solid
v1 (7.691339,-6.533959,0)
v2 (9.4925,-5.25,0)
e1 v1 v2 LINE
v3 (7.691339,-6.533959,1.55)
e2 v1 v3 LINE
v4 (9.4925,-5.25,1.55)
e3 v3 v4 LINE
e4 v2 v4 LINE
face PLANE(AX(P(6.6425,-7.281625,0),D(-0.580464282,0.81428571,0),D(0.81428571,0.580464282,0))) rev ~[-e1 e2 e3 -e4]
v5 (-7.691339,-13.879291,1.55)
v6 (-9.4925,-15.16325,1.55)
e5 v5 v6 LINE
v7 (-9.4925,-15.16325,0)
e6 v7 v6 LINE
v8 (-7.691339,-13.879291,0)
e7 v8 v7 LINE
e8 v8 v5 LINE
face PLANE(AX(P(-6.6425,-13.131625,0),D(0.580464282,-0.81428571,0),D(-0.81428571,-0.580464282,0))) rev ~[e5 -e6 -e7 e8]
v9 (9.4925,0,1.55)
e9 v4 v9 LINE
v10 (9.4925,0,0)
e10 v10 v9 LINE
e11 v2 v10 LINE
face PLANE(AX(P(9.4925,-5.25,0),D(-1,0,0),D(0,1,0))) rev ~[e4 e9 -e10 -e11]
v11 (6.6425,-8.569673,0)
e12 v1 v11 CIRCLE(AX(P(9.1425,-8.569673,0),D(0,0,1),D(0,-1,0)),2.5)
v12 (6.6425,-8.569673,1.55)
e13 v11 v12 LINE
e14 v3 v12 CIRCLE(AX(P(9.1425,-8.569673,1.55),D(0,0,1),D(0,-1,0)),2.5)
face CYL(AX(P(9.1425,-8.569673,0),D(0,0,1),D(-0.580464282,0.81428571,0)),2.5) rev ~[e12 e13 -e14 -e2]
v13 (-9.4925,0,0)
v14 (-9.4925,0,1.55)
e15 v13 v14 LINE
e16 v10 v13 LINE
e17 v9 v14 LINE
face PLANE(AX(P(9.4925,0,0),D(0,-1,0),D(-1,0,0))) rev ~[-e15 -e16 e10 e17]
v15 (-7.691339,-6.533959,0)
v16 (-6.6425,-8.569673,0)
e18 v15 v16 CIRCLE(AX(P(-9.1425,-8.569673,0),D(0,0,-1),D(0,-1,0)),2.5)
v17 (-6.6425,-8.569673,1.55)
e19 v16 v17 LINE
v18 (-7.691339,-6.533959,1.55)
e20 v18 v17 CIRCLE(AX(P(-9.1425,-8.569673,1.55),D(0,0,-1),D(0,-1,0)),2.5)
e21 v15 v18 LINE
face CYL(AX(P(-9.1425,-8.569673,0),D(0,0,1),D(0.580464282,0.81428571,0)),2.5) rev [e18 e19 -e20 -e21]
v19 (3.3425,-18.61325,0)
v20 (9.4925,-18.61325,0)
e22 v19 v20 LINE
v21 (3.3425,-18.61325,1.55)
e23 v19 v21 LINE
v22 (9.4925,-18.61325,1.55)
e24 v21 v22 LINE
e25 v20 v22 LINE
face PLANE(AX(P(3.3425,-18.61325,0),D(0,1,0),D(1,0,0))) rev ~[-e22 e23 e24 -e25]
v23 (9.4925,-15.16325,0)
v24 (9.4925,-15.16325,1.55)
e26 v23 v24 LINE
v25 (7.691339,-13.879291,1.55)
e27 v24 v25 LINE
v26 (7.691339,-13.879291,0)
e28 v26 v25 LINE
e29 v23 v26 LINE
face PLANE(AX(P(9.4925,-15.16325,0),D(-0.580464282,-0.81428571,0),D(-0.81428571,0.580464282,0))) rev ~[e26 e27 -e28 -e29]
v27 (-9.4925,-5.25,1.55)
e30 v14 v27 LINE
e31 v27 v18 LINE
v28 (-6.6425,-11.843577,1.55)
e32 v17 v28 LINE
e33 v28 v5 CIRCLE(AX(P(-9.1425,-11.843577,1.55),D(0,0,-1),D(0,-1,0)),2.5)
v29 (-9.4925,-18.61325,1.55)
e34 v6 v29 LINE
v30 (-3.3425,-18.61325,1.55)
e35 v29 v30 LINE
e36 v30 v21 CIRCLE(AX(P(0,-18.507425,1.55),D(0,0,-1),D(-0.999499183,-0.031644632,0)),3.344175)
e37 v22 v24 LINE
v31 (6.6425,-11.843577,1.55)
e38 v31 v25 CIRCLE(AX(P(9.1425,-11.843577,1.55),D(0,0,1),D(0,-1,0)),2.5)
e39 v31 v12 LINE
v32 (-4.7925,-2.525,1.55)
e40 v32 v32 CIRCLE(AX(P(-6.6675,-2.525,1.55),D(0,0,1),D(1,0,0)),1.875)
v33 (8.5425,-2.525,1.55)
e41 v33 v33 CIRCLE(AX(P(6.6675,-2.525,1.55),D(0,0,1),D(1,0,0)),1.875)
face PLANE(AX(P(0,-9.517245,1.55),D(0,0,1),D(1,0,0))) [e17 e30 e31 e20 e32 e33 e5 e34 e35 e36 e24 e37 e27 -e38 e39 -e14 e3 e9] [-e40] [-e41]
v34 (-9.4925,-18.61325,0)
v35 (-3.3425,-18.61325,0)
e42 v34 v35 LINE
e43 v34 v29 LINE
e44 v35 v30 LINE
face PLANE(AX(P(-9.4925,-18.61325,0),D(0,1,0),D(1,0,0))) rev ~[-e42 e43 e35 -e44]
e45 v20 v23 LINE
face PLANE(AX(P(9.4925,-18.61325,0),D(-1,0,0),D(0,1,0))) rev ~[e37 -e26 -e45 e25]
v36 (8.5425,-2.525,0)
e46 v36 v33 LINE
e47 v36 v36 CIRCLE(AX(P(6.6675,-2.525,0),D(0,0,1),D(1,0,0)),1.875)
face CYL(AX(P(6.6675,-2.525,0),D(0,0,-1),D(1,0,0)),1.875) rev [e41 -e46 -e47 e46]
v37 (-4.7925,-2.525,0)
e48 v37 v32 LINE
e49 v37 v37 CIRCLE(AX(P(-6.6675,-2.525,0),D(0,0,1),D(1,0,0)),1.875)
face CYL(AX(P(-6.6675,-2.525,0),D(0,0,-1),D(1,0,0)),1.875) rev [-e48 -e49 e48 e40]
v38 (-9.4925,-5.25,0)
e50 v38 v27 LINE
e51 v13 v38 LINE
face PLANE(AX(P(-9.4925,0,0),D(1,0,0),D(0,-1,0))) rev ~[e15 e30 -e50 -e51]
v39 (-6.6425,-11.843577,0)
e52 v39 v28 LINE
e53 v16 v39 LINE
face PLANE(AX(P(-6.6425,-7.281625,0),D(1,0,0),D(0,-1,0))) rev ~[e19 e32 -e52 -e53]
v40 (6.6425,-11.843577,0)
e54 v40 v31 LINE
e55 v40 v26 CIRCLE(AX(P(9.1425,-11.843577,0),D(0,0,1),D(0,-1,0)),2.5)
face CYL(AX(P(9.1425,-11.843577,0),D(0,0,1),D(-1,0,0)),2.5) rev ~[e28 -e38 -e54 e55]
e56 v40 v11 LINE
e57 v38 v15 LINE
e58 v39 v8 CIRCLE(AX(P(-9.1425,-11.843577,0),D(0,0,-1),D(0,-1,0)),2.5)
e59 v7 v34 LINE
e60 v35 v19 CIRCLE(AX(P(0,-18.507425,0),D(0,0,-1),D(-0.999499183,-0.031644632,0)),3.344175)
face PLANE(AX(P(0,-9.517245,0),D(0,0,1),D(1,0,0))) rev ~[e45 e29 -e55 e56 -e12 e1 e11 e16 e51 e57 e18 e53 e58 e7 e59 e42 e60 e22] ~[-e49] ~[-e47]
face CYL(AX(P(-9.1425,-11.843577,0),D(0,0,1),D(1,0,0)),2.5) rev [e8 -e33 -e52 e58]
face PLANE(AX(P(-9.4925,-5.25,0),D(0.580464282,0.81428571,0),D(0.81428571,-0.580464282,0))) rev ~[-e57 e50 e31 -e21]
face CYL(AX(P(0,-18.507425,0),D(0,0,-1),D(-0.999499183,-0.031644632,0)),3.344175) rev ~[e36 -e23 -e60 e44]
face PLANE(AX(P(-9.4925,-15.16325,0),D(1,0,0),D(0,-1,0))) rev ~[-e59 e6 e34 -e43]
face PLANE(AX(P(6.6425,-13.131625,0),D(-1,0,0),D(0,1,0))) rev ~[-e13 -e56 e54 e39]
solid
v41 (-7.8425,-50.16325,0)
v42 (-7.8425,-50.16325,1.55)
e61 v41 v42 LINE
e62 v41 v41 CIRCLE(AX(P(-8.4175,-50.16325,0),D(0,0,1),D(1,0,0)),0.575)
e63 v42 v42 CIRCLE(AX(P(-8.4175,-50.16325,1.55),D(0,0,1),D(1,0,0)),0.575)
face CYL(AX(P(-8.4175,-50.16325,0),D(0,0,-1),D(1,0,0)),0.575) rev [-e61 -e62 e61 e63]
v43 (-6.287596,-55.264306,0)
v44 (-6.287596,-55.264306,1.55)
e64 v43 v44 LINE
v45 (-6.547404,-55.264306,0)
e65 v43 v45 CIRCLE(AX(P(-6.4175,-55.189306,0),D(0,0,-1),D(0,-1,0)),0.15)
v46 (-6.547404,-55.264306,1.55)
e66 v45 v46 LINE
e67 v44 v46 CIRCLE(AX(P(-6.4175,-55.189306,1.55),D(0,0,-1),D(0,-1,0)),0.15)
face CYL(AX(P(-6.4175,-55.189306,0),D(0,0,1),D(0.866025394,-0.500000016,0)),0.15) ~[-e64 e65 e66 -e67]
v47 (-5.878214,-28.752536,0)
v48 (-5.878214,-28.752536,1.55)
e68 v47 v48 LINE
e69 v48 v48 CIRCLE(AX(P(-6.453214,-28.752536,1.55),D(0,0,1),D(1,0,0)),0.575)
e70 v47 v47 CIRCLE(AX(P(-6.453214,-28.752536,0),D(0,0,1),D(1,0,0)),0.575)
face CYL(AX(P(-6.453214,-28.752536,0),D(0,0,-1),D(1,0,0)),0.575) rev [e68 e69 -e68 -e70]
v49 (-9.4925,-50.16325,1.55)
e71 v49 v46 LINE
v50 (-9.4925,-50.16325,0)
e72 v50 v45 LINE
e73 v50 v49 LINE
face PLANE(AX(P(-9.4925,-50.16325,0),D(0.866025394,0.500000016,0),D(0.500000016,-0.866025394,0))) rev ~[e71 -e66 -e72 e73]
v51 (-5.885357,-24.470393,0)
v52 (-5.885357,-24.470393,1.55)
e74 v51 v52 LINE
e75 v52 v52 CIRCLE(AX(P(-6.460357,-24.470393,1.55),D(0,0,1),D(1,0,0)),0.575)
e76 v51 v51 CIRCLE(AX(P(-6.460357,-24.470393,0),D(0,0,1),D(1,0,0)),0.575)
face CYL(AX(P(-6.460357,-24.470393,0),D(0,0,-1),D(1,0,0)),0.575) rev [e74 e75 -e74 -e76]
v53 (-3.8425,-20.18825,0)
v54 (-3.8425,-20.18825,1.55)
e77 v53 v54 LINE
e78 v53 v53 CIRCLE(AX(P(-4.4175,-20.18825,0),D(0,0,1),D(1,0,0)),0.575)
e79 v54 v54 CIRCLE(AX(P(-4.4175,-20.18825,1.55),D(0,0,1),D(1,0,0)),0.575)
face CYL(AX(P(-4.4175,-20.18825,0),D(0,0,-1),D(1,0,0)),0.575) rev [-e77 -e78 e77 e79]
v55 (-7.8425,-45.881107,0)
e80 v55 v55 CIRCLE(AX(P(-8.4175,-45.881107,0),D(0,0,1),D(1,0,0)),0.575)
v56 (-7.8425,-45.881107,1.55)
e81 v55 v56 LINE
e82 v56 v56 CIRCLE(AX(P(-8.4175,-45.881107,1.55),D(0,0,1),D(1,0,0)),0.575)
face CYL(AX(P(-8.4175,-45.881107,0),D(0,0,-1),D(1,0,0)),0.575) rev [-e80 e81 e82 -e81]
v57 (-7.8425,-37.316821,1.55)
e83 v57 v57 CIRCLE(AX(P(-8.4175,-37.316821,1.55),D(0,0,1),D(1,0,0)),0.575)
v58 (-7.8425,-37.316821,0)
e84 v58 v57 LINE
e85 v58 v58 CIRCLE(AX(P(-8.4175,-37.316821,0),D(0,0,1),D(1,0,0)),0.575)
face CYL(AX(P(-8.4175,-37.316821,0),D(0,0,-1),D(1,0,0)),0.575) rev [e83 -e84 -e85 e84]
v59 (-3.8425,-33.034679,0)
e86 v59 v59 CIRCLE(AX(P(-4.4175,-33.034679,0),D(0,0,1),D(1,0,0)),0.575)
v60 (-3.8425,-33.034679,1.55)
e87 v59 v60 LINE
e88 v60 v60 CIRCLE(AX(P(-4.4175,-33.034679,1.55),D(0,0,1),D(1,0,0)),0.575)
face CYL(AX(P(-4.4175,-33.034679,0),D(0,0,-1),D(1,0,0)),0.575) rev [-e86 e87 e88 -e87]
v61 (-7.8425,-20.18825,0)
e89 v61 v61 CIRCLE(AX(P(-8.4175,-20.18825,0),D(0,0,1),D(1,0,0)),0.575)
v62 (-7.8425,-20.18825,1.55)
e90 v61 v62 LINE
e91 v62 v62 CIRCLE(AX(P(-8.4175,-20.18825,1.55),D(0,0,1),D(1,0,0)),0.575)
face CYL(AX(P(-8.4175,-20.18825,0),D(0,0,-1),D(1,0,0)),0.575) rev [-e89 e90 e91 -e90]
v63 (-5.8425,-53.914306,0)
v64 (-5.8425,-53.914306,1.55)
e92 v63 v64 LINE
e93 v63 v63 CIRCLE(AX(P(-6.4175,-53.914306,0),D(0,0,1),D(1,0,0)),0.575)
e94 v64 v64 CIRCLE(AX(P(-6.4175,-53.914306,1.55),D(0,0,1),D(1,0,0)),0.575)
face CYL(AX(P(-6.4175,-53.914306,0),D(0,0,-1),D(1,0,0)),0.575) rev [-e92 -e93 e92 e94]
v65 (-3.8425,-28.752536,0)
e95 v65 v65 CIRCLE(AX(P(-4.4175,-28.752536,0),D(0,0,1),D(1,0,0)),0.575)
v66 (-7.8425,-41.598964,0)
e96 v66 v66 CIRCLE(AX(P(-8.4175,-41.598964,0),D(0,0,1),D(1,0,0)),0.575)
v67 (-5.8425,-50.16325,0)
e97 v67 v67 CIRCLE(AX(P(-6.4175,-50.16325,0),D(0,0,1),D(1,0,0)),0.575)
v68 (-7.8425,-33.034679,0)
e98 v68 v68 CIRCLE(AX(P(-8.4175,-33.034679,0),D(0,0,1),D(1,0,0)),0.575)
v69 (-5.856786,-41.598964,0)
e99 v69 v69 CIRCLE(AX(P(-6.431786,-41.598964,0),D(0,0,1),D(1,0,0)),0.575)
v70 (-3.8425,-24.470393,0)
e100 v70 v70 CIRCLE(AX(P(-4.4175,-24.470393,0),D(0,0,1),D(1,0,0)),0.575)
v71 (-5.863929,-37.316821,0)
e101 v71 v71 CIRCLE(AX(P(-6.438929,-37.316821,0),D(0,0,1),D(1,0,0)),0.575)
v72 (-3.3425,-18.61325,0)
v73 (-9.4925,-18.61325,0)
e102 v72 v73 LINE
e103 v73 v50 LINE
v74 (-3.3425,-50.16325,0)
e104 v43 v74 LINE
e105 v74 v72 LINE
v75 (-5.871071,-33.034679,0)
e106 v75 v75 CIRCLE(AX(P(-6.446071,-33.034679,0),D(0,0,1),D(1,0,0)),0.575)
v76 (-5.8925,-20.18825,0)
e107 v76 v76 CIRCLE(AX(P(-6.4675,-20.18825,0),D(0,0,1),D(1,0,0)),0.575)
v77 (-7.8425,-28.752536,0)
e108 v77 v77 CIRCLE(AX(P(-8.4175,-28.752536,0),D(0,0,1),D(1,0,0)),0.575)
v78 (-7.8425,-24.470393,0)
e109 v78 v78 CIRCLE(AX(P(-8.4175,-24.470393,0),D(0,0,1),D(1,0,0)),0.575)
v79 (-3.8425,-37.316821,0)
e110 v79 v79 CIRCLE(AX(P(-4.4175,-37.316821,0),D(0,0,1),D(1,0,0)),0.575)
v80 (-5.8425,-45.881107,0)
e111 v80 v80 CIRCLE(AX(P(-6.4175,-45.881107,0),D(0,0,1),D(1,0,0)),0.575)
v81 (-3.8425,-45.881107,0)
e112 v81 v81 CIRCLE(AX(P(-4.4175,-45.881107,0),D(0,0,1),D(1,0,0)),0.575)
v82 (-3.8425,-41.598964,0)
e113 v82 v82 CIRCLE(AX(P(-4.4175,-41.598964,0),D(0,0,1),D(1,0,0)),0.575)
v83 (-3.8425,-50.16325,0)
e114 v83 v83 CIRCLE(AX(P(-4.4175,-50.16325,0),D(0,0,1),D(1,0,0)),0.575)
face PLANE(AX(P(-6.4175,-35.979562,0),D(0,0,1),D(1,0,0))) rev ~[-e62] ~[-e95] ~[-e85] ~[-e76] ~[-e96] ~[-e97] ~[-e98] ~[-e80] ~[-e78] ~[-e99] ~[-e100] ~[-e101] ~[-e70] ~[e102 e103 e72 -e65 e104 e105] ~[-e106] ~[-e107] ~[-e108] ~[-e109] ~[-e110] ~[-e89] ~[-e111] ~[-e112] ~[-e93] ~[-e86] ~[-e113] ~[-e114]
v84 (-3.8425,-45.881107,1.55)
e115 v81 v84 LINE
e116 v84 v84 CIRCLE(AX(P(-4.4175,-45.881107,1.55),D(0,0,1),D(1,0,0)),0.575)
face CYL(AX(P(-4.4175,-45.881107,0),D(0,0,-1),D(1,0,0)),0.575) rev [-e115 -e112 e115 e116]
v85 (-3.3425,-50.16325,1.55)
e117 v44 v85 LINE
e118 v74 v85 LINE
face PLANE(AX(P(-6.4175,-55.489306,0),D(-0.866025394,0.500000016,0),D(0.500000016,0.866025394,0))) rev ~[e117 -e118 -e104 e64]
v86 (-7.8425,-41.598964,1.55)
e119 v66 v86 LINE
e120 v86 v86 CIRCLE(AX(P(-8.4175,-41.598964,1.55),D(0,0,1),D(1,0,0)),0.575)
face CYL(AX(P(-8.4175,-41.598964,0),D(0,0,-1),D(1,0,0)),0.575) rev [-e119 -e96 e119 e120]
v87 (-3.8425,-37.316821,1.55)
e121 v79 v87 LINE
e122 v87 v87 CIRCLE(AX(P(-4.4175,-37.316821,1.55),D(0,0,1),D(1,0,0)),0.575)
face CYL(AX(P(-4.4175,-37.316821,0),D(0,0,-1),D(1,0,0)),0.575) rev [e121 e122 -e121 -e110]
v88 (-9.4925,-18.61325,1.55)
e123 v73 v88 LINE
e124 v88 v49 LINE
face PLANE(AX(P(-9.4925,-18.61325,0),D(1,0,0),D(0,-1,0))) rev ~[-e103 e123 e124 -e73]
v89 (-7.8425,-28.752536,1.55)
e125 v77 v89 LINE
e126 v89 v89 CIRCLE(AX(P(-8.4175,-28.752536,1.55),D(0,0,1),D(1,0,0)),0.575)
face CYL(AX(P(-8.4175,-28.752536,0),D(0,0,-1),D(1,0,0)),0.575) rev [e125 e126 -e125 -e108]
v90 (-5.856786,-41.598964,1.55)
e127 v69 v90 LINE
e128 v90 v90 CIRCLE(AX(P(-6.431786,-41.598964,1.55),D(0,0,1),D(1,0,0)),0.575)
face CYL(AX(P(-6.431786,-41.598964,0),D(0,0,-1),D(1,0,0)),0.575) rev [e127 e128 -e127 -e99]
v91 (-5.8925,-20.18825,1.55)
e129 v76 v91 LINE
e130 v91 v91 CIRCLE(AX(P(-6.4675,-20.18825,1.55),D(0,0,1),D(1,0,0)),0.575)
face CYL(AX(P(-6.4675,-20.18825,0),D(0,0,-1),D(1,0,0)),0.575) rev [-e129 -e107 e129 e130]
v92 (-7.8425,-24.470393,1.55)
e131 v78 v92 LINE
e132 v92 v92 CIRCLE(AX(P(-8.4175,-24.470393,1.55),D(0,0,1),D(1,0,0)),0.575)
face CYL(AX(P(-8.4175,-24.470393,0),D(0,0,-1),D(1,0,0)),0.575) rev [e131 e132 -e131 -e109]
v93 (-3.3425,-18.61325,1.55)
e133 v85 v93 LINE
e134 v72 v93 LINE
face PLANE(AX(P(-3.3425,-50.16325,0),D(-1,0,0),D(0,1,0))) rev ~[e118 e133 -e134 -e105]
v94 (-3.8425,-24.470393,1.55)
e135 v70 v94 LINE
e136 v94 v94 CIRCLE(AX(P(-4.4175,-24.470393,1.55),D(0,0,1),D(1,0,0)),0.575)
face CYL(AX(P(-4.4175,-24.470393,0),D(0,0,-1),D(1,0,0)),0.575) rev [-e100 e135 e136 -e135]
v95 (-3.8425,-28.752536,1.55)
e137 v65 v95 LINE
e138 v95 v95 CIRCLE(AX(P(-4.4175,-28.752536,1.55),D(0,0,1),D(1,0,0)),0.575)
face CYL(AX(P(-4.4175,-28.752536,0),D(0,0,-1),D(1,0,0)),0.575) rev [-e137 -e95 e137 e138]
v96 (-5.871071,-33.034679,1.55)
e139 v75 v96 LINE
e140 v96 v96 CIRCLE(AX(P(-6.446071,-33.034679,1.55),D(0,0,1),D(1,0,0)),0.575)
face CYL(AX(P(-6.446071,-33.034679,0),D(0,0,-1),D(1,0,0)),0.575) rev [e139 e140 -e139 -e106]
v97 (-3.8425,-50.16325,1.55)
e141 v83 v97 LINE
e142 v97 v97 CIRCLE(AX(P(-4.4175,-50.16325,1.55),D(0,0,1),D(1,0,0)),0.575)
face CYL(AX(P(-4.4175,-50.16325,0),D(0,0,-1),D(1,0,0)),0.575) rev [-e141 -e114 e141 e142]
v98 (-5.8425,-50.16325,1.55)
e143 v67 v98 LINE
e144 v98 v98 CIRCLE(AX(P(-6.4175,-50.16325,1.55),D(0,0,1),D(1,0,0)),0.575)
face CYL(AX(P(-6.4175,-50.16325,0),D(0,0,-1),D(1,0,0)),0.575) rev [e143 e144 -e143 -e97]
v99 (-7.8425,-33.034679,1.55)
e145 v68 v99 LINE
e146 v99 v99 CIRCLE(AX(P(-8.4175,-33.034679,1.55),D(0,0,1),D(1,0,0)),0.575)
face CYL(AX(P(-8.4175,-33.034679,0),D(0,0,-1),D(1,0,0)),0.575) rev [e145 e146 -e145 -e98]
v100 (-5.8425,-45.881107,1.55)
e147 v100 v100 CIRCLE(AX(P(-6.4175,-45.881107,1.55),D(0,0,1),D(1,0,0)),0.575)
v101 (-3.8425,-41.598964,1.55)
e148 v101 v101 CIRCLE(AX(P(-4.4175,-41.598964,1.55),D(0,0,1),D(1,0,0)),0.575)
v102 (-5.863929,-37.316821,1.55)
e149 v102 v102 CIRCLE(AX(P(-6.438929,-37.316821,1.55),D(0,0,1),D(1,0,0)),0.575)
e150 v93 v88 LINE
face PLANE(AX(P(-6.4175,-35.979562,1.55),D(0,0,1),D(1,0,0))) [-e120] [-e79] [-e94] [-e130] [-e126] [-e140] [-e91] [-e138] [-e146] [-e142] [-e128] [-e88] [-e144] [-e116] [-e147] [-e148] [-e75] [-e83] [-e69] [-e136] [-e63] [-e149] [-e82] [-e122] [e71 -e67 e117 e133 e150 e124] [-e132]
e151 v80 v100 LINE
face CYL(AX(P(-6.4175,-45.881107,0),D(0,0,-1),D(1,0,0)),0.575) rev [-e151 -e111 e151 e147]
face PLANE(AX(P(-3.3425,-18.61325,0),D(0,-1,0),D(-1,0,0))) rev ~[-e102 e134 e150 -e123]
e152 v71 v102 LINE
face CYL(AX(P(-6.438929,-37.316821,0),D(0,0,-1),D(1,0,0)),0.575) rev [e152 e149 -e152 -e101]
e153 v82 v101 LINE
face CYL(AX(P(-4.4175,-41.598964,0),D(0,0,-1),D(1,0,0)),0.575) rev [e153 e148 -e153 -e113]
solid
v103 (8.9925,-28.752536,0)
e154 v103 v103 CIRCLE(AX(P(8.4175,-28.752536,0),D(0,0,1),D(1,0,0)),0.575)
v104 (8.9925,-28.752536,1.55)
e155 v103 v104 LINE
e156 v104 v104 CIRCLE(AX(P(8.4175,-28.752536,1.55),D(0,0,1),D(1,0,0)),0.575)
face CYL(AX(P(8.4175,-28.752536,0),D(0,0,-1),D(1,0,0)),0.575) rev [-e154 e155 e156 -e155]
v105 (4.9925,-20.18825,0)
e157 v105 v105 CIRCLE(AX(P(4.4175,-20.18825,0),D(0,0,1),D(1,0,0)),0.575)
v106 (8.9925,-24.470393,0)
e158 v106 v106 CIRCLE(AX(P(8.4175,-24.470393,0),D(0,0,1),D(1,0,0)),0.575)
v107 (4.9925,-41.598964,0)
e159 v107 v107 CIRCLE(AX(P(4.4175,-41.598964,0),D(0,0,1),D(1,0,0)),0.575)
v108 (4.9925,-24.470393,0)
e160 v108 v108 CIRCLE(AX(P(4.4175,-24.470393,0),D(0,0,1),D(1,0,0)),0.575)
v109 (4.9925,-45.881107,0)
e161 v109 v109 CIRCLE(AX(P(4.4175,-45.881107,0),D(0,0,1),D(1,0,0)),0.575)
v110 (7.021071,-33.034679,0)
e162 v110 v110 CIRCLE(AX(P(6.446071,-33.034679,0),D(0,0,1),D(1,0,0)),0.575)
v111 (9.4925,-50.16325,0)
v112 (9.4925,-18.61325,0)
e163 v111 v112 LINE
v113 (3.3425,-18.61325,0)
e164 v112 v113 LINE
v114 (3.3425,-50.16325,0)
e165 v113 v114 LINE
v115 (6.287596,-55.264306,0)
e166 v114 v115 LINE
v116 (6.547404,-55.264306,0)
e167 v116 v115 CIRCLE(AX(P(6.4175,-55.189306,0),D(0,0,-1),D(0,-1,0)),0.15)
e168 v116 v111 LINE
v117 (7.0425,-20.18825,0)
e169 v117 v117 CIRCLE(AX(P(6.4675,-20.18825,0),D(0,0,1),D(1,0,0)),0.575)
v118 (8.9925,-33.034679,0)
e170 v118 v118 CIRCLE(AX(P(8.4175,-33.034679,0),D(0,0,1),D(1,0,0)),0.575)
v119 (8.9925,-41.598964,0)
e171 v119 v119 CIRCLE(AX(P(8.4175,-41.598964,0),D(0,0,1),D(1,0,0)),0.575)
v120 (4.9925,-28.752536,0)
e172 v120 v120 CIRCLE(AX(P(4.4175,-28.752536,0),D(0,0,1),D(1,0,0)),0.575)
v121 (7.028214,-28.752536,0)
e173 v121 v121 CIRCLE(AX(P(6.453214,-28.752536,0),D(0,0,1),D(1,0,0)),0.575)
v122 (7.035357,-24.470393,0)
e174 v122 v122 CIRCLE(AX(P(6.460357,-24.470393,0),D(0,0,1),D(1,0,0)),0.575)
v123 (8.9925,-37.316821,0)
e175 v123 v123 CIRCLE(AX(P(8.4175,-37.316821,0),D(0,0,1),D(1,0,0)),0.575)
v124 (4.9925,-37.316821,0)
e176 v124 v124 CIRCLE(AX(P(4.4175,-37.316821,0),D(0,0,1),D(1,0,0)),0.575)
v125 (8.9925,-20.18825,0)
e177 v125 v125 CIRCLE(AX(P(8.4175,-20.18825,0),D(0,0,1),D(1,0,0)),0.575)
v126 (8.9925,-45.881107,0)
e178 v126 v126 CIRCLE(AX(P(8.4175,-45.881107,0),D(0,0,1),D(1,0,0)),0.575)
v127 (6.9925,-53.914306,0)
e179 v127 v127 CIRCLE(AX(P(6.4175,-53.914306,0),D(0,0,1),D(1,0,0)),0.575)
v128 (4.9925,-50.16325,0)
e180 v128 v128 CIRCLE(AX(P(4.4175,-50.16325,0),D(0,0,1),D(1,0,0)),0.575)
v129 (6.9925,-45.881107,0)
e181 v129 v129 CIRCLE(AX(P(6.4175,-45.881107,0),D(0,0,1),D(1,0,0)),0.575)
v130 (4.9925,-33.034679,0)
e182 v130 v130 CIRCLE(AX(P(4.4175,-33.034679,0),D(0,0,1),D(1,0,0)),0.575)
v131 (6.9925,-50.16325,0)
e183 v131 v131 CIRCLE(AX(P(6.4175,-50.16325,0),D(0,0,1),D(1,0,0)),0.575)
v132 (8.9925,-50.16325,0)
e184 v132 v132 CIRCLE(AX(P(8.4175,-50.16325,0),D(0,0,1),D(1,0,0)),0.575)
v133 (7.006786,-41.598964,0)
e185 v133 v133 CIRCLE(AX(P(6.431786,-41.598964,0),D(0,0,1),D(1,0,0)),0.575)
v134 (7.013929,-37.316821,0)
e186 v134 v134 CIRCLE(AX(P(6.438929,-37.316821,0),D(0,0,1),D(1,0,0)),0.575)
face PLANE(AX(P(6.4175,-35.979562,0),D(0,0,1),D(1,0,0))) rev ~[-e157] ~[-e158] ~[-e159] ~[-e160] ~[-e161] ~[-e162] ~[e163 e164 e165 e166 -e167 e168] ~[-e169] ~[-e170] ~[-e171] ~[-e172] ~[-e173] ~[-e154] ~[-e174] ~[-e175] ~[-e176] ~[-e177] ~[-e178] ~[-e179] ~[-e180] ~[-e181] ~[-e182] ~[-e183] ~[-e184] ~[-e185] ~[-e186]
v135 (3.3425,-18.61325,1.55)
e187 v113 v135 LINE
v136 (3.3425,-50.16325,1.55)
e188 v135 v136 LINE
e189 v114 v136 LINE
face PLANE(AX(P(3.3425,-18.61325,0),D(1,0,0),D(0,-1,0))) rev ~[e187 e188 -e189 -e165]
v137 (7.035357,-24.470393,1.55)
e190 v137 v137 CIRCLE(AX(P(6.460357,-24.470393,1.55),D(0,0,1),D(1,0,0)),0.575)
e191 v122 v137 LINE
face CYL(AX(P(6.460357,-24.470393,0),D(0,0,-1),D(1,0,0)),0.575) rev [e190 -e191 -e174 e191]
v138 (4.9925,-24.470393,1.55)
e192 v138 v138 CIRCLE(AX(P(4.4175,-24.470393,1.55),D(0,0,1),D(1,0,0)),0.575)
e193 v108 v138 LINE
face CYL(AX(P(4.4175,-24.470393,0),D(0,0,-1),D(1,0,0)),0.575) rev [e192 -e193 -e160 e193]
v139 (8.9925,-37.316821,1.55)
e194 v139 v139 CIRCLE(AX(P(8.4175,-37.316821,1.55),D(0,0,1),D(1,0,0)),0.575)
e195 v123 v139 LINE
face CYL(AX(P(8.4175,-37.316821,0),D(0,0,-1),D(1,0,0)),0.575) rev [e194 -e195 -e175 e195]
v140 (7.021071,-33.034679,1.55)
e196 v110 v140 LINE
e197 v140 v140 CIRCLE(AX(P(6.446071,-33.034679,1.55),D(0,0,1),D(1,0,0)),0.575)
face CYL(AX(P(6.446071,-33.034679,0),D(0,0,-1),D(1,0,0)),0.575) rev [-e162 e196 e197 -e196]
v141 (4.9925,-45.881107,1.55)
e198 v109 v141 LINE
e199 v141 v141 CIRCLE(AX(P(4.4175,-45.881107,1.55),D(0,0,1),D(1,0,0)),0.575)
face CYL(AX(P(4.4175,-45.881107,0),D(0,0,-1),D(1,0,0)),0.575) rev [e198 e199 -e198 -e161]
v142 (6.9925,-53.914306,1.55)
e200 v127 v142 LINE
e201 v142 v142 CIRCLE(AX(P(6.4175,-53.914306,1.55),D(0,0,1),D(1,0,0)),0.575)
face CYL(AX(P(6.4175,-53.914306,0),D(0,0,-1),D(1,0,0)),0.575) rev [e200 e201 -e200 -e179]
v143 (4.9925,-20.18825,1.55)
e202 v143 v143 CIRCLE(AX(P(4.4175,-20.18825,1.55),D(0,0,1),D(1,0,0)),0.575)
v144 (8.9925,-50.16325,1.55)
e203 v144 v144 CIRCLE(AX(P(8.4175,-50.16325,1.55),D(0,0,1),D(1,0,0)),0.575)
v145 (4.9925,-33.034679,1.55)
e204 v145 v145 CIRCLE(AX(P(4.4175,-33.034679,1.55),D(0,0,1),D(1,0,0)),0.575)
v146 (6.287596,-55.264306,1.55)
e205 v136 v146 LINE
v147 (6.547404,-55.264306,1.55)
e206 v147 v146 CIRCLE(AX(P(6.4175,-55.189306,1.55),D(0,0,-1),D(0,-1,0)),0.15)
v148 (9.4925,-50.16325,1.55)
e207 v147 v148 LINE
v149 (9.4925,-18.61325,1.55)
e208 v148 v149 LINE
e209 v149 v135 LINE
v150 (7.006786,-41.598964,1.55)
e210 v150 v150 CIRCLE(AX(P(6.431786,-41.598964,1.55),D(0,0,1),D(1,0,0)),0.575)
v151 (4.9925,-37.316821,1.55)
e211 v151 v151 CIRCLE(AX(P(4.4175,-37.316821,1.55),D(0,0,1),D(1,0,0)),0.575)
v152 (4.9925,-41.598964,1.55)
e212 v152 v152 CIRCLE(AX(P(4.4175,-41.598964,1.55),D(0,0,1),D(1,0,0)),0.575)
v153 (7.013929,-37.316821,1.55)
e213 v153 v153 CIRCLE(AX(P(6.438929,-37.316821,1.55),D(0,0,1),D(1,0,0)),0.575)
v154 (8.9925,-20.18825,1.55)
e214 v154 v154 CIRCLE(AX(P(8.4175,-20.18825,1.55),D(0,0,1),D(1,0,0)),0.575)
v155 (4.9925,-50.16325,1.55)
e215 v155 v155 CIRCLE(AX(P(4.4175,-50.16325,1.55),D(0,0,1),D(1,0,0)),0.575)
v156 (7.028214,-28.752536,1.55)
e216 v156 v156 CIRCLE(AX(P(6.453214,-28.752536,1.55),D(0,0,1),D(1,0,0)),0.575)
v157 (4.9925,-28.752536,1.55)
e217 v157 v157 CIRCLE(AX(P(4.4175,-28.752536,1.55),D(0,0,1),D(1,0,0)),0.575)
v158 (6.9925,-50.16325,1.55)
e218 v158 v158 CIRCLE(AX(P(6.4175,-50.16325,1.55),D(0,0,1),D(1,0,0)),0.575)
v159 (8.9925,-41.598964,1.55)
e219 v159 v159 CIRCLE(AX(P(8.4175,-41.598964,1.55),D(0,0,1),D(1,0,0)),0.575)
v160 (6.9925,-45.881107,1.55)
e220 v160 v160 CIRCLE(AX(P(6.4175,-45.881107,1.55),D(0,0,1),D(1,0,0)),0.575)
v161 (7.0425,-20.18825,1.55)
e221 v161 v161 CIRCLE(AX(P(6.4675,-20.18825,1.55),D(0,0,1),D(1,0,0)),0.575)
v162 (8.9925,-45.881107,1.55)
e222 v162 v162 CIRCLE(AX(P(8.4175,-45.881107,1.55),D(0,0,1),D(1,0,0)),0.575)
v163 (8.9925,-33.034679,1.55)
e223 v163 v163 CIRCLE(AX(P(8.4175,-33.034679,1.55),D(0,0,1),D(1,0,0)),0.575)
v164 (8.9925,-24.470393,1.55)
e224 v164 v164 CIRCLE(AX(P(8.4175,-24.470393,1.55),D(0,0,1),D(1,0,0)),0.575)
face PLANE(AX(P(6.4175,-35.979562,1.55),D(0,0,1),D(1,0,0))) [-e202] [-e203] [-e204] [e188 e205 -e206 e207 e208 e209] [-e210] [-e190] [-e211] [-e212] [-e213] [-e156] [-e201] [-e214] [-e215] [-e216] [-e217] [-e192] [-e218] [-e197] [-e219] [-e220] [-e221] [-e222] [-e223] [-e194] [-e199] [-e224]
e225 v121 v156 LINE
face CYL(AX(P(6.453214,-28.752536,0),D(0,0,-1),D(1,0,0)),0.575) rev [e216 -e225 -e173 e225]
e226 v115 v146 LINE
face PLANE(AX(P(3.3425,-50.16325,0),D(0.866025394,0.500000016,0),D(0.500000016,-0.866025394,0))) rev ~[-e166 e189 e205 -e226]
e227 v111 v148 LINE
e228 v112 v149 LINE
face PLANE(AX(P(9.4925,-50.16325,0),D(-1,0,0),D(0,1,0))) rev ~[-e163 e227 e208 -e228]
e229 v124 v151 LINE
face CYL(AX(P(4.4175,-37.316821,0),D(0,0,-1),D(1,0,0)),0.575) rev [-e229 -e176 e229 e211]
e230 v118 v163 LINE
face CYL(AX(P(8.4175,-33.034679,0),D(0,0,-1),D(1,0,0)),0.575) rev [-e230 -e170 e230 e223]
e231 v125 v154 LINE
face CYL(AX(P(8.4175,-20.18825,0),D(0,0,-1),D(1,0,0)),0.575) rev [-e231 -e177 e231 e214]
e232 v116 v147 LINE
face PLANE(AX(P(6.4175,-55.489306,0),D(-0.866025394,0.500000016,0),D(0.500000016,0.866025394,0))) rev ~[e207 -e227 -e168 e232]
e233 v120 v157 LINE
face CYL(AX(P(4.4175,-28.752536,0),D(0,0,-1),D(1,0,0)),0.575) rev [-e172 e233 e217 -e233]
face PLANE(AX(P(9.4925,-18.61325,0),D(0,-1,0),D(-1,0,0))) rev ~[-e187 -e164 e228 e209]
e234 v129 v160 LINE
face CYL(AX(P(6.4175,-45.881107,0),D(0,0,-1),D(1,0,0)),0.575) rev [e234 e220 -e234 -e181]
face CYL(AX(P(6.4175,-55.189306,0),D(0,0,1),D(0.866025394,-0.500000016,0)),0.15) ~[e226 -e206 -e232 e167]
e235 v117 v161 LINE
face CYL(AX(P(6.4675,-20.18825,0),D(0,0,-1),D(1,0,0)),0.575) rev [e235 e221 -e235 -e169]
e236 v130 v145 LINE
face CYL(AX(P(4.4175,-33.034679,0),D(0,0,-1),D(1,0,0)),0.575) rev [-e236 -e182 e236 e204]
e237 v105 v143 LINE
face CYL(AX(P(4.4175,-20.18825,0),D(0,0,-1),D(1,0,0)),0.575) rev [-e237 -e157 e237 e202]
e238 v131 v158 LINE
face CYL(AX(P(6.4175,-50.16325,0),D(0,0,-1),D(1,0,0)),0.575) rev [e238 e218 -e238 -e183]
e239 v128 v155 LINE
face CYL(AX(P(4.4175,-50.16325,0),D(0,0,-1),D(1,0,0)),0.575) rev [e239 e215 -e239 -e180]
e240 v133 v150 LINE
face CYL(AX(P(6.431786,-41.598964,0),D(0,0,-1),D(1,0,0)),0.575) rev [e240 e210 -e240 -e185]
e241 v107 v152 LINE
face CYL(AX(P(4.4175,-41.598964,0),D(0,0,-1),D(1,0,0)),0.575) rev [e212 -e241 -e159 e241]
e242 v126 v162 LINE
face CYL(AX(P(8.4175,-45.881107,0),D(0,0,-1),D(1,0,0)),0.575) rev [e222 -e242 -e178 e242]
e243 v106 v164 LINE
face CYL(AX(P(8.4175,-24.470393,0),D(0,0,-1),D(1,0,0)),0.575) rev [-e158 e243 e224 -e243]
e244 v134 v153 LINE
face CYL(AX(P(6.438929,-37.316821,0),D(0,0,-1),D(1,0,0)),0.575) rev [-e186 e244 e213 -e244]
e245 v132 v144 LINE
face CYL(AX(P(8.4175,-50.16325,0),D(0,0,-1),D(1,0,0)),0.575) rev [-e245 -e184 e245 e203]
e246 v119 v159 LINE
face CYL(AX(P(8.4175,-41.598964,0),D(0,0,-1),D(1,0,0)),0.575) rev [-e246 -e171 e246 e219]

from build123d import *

# Parameters (mm, degrees)
F0_R     = 1.875
F1_DEPTH = 1.55
F0_R_2   = 0.575
F2_DEPTH = 1.55
F3_R     = 0.15
F4_R     = 2.5


with BuildPart() as f1:
    # F0 (on Top) → F1 (new body)
    with BuildSketch(Plane.XY):
        with BuildLine():
            Line((9.4925, 0), (-9.4925, 0))
            Line((-9.4925, 0), (-9.4925, -5.25))
            Line((-9.4925, -5.25), (-6.6425, -7.281625))
            Line((-6.6425, -7.281625), (-6.6425, -13.131625))
            Line((-6.6425, -13.131625), (-9.4925, -15.16325))
            Line((-9.4925, -15.16325), (-9.4925, -18.61325))
            Line((-9.4925, -18.61325), (-3.3425, -18.61325))
            ThreePointArc((-3.3425, -18.61325), (0, -15.16325), (3.3425, -18.61325))
            Line((3.3425, -18.61325), (9.4925, -18.61325))
            Line((9.4925, -18.61325), (9.4925, -15.16325))
            Line((9.4925, -15.16325), (6.6425, -13.131625))
            Line((6.6425, -13.131625), (6.6425, -7.281625))
            Line((6.6425, -7.281625), (9.4925, -5.25))
            Line((9.4925, -5.25), (9.4925, 0))
        make_face()
        with Locations((-6.6675, -2.525)):
            Circle(F0_R, mode=Mode.SUBTRACT)
        with Locations((6.6675, -2.525)):
            Circle(F0_R, mode=Mode.SUBTRACT)
    extrude(amount=F1_DEPTH)

    # F4
    f4_edges = [f1.edges().sort_by_distance(p)[0] for p in [
        (-6.6425, -7.281625, 0.775),
        (-6.6425, -13.131625, 0.775),
        (6.6425, -13.131625, 0.775),
        (6.6425, -7.281625, 0.775),
    ]]
    fillet(f4_edges, radius=F4_R)


with BuildPart() as f2:
    # F0 (on Top) → F2 (new body)
    with BuildSketch(Plane.XY):
        Polygon((-3.3425, -18.61325), (-9.4925, -18.61325), (-9.4925, -50.16325), (-6.4175, -55.489306), (-3.3425, -50.16325), align=None)
        with Locations((-8.4175, -50.16325)):
            Circle(F0_R_2, mode=Mode.SUBTRACT)
        with Locations((-6.4175, -53.914306)):
            Circle(F0_R_2, mode=Mode.SUBTRACT)
        with Locations((-6.4175, -50.16325)):
            Circle(F0_R_2, mode=Mode.SUBTRACT)
        with Locations((-8.4175, -45.881107)):
            Circle(F0_R_2, mode=Mode.SUBTRACT)
        with Locations((-6.4175, -45.881107)):
            Circle(F0_R_2, mode=Mode.SUBTRACT)
        with Locations((-4.4175, -50.16325)):
            Circle(F0_R_2, mode=Mode.SUBTRACT)
        with Locations((-4.4175, -45.881107)):
            Circle(F0_R_2, mode=Mode.SUBTRACT)
        with Locations((-8.4175, -41.598964)):
            Circle(F0_R_2, mode=Mode.SUBTRACT)
        with Locations((-8.4175, -37.316821)):
            Circle(F0_R_2, mode=Mode.SUBTRACT)
        with Locations((-6.431786, -41.598964)):
            Circle(F0_R_2, mode=Mode.SUBTRACT)
        with Locations((-6.438929, -37.316821)):
            Circle(F0_R_2, mode=Mode.SUBTRACT)
        with Locations((-8.4175, -33.034679)):
            Circle(F0_R_2, mode=Mode.SUBTRACT)
        with Locations((-8.4175, -28.752536)):
            Circle(F0_R_2, mode=Mode.SUBTRACT)
        with Locations((-6.446071, -33.034679)):
            Circle(F0_R_2, mode=Mode.SUBTRACT)
        with Locations((-6.453214, -28.752536)):
            Circle(F0_R_2, mode=Mode.SUBTRACT)
        with Locations((-4.4175, -41.598964)):
            Circle(F0_R_2, mode=Mode.SUBTRACT)
        with Locations((-4.4175, -37.316821)):
            Circle(F0_R_2, mode=Mode.SUBTRACT)
        with Locations((-4.4175, -33.034679)):
            Circle(F0_R_2, mode=Mode.SUBTRACT)
        with Locations((-4.4175, -28.752536)):
            Circle(F0_R_2, mode=Mode.SUBTRACT)
        with Locations((-8.4175, -24.470393)):
            Circle(F0_R_2, mode=Mode.SUBTRACT)
        with Locations((-6.460357, -24.470393)):
            Circle(F0_R_2, mode=Mode.SUBTRACT)
        with Locations((-8.4175, -20.18825)):
            Circle(F0_R_2, mode=Mode.SUBTRACT)
        with Locations((-6.4675, -20.18825)):
            Circle(F0_R_2, mode=Mode.SUBTRACT)
        with Locations((-4.4175, -24.470393)):
            Circle(F0_R_2, mode=Mode.SUBTRACT)
        with Locations((-4.4175, -20.18825)):
            Circle(F0_R_2, mode=Mode.SUBTRACT)
        Polygon((9.4925, -50.16325), (9.4925, -18.61325), (3.3425, -18.61325), (3.3425, -50.16325), (6.4175, -55.489306), align=None)
        with Locations((4.4175, -50.16325)):
            Circle(F0_R_2, mode=Mode.SUBTRACT)
        with Locations((4.4175, -45.881107)):
            Circle(F0_R_2, mode=Mode.SUBTRACT)
        with Locations((6.4175, -53.914306)):
            Circle(F0_R_2, mode=Mode.SUBTRACT)
        with Locations((6.4175, -50.16325)):
            Circle(F0_R_2, mode=Mode.SUBTRACT)
        with Locations((8.4175, -50.16325)):
            Circle(F0_R_2, mode=Mode.SUBTRACT)
        with Locations((6.4175, -45.881107)):
            Circle(F0_R_2, mode=Mode.SUBTRACT)
        with Locations((8.4175, -45.881107)):
            Circle(F0_R_2, mode=Mode.SUBTRACT)
        with Locations((4.4175, -41.598964)):
            Circle(F0_R_2, mode=Mode.SUBTRACT)
        with Locations((4.4175, -37.316821)):
            Circle(F0_R_2, mode=Mode.SUBTRACT)
        with Locations((4.4175, -33.034679)):
            Circle(F0_R_2, mode=Mode.SUBTRACT)
        with Locations((4.4175, -28.752536)):
            Circle(F0_R_2, mode=Mode.SUBTRACT)
        with Locations((6.431786, -41.598964)):
            Circle(F0_R_2, mode=Mode.SUBTRACT)
        with Locations((6.438929, -37.316821)):
            Circle(F0_R_2, mode=Mode.SUBTRACT)
        with Locations((8.4175, -41.598964)):
            Circle(F0_R_2, mode=Mode.SUBTRACT)
        with Locations((8.4175, -37.316821)):
            Circle(F0_R_2, mode=Mode.SUBTRACT)
        with Locations((6.446071, -33.034679)):
            Circle(F0_R_2, mode=Mode.SUBTRACT)
        with Locations((6.453214, -28.752536)):
            Circle(F0_R_2, mode=Mode.SUBTRACT)
        with Locations((8.4175, -33.034679)):
            Circle(F0_R_2, mode=Mode.SUBTRACT)
        with Locations((8.4175, -28.752536)):
            Circle(F0_R_2, mode=Mode.SUBTRACT)
        with Locations((4.4175, -24.470393)):
            Circle(F0_R_2, mode=Mode.SUBTRACT)
        with Locations((4.4175, -20.18825)):
            Circle(F0_R_2, mode=Mode.SUBTRACT)
        with Locations((6.460357, -24.470393)):
            Circle(F0_R_2, mode=Mode.SUBTRACT)
        with Locations((8.4175, -24.470393)):
            Circle(F0_R_2, mode=Mode.SUBTRACT)
        with Locations((6.4675, -20.18825)):
            Circle(F0_R_2, mode=Mode.SUBTRACT)
        with Locations((8.4175, -20.18825)):
            Circle(F0_R_2, mode=Mode.SUBTRACT)
    extrude(amount=F2_DEPTH)

    # F3
    f3_edges = [f2.edges().sort_by_distance(p)[0] for p in [
        (6.4175, -55.489306, 0.775),
        (-6.4175, -55.489306, 0.775),
    ]]
    fillet(f3_edges, radius=F3_R)


solid = Compound([f1.part, f2.part])
